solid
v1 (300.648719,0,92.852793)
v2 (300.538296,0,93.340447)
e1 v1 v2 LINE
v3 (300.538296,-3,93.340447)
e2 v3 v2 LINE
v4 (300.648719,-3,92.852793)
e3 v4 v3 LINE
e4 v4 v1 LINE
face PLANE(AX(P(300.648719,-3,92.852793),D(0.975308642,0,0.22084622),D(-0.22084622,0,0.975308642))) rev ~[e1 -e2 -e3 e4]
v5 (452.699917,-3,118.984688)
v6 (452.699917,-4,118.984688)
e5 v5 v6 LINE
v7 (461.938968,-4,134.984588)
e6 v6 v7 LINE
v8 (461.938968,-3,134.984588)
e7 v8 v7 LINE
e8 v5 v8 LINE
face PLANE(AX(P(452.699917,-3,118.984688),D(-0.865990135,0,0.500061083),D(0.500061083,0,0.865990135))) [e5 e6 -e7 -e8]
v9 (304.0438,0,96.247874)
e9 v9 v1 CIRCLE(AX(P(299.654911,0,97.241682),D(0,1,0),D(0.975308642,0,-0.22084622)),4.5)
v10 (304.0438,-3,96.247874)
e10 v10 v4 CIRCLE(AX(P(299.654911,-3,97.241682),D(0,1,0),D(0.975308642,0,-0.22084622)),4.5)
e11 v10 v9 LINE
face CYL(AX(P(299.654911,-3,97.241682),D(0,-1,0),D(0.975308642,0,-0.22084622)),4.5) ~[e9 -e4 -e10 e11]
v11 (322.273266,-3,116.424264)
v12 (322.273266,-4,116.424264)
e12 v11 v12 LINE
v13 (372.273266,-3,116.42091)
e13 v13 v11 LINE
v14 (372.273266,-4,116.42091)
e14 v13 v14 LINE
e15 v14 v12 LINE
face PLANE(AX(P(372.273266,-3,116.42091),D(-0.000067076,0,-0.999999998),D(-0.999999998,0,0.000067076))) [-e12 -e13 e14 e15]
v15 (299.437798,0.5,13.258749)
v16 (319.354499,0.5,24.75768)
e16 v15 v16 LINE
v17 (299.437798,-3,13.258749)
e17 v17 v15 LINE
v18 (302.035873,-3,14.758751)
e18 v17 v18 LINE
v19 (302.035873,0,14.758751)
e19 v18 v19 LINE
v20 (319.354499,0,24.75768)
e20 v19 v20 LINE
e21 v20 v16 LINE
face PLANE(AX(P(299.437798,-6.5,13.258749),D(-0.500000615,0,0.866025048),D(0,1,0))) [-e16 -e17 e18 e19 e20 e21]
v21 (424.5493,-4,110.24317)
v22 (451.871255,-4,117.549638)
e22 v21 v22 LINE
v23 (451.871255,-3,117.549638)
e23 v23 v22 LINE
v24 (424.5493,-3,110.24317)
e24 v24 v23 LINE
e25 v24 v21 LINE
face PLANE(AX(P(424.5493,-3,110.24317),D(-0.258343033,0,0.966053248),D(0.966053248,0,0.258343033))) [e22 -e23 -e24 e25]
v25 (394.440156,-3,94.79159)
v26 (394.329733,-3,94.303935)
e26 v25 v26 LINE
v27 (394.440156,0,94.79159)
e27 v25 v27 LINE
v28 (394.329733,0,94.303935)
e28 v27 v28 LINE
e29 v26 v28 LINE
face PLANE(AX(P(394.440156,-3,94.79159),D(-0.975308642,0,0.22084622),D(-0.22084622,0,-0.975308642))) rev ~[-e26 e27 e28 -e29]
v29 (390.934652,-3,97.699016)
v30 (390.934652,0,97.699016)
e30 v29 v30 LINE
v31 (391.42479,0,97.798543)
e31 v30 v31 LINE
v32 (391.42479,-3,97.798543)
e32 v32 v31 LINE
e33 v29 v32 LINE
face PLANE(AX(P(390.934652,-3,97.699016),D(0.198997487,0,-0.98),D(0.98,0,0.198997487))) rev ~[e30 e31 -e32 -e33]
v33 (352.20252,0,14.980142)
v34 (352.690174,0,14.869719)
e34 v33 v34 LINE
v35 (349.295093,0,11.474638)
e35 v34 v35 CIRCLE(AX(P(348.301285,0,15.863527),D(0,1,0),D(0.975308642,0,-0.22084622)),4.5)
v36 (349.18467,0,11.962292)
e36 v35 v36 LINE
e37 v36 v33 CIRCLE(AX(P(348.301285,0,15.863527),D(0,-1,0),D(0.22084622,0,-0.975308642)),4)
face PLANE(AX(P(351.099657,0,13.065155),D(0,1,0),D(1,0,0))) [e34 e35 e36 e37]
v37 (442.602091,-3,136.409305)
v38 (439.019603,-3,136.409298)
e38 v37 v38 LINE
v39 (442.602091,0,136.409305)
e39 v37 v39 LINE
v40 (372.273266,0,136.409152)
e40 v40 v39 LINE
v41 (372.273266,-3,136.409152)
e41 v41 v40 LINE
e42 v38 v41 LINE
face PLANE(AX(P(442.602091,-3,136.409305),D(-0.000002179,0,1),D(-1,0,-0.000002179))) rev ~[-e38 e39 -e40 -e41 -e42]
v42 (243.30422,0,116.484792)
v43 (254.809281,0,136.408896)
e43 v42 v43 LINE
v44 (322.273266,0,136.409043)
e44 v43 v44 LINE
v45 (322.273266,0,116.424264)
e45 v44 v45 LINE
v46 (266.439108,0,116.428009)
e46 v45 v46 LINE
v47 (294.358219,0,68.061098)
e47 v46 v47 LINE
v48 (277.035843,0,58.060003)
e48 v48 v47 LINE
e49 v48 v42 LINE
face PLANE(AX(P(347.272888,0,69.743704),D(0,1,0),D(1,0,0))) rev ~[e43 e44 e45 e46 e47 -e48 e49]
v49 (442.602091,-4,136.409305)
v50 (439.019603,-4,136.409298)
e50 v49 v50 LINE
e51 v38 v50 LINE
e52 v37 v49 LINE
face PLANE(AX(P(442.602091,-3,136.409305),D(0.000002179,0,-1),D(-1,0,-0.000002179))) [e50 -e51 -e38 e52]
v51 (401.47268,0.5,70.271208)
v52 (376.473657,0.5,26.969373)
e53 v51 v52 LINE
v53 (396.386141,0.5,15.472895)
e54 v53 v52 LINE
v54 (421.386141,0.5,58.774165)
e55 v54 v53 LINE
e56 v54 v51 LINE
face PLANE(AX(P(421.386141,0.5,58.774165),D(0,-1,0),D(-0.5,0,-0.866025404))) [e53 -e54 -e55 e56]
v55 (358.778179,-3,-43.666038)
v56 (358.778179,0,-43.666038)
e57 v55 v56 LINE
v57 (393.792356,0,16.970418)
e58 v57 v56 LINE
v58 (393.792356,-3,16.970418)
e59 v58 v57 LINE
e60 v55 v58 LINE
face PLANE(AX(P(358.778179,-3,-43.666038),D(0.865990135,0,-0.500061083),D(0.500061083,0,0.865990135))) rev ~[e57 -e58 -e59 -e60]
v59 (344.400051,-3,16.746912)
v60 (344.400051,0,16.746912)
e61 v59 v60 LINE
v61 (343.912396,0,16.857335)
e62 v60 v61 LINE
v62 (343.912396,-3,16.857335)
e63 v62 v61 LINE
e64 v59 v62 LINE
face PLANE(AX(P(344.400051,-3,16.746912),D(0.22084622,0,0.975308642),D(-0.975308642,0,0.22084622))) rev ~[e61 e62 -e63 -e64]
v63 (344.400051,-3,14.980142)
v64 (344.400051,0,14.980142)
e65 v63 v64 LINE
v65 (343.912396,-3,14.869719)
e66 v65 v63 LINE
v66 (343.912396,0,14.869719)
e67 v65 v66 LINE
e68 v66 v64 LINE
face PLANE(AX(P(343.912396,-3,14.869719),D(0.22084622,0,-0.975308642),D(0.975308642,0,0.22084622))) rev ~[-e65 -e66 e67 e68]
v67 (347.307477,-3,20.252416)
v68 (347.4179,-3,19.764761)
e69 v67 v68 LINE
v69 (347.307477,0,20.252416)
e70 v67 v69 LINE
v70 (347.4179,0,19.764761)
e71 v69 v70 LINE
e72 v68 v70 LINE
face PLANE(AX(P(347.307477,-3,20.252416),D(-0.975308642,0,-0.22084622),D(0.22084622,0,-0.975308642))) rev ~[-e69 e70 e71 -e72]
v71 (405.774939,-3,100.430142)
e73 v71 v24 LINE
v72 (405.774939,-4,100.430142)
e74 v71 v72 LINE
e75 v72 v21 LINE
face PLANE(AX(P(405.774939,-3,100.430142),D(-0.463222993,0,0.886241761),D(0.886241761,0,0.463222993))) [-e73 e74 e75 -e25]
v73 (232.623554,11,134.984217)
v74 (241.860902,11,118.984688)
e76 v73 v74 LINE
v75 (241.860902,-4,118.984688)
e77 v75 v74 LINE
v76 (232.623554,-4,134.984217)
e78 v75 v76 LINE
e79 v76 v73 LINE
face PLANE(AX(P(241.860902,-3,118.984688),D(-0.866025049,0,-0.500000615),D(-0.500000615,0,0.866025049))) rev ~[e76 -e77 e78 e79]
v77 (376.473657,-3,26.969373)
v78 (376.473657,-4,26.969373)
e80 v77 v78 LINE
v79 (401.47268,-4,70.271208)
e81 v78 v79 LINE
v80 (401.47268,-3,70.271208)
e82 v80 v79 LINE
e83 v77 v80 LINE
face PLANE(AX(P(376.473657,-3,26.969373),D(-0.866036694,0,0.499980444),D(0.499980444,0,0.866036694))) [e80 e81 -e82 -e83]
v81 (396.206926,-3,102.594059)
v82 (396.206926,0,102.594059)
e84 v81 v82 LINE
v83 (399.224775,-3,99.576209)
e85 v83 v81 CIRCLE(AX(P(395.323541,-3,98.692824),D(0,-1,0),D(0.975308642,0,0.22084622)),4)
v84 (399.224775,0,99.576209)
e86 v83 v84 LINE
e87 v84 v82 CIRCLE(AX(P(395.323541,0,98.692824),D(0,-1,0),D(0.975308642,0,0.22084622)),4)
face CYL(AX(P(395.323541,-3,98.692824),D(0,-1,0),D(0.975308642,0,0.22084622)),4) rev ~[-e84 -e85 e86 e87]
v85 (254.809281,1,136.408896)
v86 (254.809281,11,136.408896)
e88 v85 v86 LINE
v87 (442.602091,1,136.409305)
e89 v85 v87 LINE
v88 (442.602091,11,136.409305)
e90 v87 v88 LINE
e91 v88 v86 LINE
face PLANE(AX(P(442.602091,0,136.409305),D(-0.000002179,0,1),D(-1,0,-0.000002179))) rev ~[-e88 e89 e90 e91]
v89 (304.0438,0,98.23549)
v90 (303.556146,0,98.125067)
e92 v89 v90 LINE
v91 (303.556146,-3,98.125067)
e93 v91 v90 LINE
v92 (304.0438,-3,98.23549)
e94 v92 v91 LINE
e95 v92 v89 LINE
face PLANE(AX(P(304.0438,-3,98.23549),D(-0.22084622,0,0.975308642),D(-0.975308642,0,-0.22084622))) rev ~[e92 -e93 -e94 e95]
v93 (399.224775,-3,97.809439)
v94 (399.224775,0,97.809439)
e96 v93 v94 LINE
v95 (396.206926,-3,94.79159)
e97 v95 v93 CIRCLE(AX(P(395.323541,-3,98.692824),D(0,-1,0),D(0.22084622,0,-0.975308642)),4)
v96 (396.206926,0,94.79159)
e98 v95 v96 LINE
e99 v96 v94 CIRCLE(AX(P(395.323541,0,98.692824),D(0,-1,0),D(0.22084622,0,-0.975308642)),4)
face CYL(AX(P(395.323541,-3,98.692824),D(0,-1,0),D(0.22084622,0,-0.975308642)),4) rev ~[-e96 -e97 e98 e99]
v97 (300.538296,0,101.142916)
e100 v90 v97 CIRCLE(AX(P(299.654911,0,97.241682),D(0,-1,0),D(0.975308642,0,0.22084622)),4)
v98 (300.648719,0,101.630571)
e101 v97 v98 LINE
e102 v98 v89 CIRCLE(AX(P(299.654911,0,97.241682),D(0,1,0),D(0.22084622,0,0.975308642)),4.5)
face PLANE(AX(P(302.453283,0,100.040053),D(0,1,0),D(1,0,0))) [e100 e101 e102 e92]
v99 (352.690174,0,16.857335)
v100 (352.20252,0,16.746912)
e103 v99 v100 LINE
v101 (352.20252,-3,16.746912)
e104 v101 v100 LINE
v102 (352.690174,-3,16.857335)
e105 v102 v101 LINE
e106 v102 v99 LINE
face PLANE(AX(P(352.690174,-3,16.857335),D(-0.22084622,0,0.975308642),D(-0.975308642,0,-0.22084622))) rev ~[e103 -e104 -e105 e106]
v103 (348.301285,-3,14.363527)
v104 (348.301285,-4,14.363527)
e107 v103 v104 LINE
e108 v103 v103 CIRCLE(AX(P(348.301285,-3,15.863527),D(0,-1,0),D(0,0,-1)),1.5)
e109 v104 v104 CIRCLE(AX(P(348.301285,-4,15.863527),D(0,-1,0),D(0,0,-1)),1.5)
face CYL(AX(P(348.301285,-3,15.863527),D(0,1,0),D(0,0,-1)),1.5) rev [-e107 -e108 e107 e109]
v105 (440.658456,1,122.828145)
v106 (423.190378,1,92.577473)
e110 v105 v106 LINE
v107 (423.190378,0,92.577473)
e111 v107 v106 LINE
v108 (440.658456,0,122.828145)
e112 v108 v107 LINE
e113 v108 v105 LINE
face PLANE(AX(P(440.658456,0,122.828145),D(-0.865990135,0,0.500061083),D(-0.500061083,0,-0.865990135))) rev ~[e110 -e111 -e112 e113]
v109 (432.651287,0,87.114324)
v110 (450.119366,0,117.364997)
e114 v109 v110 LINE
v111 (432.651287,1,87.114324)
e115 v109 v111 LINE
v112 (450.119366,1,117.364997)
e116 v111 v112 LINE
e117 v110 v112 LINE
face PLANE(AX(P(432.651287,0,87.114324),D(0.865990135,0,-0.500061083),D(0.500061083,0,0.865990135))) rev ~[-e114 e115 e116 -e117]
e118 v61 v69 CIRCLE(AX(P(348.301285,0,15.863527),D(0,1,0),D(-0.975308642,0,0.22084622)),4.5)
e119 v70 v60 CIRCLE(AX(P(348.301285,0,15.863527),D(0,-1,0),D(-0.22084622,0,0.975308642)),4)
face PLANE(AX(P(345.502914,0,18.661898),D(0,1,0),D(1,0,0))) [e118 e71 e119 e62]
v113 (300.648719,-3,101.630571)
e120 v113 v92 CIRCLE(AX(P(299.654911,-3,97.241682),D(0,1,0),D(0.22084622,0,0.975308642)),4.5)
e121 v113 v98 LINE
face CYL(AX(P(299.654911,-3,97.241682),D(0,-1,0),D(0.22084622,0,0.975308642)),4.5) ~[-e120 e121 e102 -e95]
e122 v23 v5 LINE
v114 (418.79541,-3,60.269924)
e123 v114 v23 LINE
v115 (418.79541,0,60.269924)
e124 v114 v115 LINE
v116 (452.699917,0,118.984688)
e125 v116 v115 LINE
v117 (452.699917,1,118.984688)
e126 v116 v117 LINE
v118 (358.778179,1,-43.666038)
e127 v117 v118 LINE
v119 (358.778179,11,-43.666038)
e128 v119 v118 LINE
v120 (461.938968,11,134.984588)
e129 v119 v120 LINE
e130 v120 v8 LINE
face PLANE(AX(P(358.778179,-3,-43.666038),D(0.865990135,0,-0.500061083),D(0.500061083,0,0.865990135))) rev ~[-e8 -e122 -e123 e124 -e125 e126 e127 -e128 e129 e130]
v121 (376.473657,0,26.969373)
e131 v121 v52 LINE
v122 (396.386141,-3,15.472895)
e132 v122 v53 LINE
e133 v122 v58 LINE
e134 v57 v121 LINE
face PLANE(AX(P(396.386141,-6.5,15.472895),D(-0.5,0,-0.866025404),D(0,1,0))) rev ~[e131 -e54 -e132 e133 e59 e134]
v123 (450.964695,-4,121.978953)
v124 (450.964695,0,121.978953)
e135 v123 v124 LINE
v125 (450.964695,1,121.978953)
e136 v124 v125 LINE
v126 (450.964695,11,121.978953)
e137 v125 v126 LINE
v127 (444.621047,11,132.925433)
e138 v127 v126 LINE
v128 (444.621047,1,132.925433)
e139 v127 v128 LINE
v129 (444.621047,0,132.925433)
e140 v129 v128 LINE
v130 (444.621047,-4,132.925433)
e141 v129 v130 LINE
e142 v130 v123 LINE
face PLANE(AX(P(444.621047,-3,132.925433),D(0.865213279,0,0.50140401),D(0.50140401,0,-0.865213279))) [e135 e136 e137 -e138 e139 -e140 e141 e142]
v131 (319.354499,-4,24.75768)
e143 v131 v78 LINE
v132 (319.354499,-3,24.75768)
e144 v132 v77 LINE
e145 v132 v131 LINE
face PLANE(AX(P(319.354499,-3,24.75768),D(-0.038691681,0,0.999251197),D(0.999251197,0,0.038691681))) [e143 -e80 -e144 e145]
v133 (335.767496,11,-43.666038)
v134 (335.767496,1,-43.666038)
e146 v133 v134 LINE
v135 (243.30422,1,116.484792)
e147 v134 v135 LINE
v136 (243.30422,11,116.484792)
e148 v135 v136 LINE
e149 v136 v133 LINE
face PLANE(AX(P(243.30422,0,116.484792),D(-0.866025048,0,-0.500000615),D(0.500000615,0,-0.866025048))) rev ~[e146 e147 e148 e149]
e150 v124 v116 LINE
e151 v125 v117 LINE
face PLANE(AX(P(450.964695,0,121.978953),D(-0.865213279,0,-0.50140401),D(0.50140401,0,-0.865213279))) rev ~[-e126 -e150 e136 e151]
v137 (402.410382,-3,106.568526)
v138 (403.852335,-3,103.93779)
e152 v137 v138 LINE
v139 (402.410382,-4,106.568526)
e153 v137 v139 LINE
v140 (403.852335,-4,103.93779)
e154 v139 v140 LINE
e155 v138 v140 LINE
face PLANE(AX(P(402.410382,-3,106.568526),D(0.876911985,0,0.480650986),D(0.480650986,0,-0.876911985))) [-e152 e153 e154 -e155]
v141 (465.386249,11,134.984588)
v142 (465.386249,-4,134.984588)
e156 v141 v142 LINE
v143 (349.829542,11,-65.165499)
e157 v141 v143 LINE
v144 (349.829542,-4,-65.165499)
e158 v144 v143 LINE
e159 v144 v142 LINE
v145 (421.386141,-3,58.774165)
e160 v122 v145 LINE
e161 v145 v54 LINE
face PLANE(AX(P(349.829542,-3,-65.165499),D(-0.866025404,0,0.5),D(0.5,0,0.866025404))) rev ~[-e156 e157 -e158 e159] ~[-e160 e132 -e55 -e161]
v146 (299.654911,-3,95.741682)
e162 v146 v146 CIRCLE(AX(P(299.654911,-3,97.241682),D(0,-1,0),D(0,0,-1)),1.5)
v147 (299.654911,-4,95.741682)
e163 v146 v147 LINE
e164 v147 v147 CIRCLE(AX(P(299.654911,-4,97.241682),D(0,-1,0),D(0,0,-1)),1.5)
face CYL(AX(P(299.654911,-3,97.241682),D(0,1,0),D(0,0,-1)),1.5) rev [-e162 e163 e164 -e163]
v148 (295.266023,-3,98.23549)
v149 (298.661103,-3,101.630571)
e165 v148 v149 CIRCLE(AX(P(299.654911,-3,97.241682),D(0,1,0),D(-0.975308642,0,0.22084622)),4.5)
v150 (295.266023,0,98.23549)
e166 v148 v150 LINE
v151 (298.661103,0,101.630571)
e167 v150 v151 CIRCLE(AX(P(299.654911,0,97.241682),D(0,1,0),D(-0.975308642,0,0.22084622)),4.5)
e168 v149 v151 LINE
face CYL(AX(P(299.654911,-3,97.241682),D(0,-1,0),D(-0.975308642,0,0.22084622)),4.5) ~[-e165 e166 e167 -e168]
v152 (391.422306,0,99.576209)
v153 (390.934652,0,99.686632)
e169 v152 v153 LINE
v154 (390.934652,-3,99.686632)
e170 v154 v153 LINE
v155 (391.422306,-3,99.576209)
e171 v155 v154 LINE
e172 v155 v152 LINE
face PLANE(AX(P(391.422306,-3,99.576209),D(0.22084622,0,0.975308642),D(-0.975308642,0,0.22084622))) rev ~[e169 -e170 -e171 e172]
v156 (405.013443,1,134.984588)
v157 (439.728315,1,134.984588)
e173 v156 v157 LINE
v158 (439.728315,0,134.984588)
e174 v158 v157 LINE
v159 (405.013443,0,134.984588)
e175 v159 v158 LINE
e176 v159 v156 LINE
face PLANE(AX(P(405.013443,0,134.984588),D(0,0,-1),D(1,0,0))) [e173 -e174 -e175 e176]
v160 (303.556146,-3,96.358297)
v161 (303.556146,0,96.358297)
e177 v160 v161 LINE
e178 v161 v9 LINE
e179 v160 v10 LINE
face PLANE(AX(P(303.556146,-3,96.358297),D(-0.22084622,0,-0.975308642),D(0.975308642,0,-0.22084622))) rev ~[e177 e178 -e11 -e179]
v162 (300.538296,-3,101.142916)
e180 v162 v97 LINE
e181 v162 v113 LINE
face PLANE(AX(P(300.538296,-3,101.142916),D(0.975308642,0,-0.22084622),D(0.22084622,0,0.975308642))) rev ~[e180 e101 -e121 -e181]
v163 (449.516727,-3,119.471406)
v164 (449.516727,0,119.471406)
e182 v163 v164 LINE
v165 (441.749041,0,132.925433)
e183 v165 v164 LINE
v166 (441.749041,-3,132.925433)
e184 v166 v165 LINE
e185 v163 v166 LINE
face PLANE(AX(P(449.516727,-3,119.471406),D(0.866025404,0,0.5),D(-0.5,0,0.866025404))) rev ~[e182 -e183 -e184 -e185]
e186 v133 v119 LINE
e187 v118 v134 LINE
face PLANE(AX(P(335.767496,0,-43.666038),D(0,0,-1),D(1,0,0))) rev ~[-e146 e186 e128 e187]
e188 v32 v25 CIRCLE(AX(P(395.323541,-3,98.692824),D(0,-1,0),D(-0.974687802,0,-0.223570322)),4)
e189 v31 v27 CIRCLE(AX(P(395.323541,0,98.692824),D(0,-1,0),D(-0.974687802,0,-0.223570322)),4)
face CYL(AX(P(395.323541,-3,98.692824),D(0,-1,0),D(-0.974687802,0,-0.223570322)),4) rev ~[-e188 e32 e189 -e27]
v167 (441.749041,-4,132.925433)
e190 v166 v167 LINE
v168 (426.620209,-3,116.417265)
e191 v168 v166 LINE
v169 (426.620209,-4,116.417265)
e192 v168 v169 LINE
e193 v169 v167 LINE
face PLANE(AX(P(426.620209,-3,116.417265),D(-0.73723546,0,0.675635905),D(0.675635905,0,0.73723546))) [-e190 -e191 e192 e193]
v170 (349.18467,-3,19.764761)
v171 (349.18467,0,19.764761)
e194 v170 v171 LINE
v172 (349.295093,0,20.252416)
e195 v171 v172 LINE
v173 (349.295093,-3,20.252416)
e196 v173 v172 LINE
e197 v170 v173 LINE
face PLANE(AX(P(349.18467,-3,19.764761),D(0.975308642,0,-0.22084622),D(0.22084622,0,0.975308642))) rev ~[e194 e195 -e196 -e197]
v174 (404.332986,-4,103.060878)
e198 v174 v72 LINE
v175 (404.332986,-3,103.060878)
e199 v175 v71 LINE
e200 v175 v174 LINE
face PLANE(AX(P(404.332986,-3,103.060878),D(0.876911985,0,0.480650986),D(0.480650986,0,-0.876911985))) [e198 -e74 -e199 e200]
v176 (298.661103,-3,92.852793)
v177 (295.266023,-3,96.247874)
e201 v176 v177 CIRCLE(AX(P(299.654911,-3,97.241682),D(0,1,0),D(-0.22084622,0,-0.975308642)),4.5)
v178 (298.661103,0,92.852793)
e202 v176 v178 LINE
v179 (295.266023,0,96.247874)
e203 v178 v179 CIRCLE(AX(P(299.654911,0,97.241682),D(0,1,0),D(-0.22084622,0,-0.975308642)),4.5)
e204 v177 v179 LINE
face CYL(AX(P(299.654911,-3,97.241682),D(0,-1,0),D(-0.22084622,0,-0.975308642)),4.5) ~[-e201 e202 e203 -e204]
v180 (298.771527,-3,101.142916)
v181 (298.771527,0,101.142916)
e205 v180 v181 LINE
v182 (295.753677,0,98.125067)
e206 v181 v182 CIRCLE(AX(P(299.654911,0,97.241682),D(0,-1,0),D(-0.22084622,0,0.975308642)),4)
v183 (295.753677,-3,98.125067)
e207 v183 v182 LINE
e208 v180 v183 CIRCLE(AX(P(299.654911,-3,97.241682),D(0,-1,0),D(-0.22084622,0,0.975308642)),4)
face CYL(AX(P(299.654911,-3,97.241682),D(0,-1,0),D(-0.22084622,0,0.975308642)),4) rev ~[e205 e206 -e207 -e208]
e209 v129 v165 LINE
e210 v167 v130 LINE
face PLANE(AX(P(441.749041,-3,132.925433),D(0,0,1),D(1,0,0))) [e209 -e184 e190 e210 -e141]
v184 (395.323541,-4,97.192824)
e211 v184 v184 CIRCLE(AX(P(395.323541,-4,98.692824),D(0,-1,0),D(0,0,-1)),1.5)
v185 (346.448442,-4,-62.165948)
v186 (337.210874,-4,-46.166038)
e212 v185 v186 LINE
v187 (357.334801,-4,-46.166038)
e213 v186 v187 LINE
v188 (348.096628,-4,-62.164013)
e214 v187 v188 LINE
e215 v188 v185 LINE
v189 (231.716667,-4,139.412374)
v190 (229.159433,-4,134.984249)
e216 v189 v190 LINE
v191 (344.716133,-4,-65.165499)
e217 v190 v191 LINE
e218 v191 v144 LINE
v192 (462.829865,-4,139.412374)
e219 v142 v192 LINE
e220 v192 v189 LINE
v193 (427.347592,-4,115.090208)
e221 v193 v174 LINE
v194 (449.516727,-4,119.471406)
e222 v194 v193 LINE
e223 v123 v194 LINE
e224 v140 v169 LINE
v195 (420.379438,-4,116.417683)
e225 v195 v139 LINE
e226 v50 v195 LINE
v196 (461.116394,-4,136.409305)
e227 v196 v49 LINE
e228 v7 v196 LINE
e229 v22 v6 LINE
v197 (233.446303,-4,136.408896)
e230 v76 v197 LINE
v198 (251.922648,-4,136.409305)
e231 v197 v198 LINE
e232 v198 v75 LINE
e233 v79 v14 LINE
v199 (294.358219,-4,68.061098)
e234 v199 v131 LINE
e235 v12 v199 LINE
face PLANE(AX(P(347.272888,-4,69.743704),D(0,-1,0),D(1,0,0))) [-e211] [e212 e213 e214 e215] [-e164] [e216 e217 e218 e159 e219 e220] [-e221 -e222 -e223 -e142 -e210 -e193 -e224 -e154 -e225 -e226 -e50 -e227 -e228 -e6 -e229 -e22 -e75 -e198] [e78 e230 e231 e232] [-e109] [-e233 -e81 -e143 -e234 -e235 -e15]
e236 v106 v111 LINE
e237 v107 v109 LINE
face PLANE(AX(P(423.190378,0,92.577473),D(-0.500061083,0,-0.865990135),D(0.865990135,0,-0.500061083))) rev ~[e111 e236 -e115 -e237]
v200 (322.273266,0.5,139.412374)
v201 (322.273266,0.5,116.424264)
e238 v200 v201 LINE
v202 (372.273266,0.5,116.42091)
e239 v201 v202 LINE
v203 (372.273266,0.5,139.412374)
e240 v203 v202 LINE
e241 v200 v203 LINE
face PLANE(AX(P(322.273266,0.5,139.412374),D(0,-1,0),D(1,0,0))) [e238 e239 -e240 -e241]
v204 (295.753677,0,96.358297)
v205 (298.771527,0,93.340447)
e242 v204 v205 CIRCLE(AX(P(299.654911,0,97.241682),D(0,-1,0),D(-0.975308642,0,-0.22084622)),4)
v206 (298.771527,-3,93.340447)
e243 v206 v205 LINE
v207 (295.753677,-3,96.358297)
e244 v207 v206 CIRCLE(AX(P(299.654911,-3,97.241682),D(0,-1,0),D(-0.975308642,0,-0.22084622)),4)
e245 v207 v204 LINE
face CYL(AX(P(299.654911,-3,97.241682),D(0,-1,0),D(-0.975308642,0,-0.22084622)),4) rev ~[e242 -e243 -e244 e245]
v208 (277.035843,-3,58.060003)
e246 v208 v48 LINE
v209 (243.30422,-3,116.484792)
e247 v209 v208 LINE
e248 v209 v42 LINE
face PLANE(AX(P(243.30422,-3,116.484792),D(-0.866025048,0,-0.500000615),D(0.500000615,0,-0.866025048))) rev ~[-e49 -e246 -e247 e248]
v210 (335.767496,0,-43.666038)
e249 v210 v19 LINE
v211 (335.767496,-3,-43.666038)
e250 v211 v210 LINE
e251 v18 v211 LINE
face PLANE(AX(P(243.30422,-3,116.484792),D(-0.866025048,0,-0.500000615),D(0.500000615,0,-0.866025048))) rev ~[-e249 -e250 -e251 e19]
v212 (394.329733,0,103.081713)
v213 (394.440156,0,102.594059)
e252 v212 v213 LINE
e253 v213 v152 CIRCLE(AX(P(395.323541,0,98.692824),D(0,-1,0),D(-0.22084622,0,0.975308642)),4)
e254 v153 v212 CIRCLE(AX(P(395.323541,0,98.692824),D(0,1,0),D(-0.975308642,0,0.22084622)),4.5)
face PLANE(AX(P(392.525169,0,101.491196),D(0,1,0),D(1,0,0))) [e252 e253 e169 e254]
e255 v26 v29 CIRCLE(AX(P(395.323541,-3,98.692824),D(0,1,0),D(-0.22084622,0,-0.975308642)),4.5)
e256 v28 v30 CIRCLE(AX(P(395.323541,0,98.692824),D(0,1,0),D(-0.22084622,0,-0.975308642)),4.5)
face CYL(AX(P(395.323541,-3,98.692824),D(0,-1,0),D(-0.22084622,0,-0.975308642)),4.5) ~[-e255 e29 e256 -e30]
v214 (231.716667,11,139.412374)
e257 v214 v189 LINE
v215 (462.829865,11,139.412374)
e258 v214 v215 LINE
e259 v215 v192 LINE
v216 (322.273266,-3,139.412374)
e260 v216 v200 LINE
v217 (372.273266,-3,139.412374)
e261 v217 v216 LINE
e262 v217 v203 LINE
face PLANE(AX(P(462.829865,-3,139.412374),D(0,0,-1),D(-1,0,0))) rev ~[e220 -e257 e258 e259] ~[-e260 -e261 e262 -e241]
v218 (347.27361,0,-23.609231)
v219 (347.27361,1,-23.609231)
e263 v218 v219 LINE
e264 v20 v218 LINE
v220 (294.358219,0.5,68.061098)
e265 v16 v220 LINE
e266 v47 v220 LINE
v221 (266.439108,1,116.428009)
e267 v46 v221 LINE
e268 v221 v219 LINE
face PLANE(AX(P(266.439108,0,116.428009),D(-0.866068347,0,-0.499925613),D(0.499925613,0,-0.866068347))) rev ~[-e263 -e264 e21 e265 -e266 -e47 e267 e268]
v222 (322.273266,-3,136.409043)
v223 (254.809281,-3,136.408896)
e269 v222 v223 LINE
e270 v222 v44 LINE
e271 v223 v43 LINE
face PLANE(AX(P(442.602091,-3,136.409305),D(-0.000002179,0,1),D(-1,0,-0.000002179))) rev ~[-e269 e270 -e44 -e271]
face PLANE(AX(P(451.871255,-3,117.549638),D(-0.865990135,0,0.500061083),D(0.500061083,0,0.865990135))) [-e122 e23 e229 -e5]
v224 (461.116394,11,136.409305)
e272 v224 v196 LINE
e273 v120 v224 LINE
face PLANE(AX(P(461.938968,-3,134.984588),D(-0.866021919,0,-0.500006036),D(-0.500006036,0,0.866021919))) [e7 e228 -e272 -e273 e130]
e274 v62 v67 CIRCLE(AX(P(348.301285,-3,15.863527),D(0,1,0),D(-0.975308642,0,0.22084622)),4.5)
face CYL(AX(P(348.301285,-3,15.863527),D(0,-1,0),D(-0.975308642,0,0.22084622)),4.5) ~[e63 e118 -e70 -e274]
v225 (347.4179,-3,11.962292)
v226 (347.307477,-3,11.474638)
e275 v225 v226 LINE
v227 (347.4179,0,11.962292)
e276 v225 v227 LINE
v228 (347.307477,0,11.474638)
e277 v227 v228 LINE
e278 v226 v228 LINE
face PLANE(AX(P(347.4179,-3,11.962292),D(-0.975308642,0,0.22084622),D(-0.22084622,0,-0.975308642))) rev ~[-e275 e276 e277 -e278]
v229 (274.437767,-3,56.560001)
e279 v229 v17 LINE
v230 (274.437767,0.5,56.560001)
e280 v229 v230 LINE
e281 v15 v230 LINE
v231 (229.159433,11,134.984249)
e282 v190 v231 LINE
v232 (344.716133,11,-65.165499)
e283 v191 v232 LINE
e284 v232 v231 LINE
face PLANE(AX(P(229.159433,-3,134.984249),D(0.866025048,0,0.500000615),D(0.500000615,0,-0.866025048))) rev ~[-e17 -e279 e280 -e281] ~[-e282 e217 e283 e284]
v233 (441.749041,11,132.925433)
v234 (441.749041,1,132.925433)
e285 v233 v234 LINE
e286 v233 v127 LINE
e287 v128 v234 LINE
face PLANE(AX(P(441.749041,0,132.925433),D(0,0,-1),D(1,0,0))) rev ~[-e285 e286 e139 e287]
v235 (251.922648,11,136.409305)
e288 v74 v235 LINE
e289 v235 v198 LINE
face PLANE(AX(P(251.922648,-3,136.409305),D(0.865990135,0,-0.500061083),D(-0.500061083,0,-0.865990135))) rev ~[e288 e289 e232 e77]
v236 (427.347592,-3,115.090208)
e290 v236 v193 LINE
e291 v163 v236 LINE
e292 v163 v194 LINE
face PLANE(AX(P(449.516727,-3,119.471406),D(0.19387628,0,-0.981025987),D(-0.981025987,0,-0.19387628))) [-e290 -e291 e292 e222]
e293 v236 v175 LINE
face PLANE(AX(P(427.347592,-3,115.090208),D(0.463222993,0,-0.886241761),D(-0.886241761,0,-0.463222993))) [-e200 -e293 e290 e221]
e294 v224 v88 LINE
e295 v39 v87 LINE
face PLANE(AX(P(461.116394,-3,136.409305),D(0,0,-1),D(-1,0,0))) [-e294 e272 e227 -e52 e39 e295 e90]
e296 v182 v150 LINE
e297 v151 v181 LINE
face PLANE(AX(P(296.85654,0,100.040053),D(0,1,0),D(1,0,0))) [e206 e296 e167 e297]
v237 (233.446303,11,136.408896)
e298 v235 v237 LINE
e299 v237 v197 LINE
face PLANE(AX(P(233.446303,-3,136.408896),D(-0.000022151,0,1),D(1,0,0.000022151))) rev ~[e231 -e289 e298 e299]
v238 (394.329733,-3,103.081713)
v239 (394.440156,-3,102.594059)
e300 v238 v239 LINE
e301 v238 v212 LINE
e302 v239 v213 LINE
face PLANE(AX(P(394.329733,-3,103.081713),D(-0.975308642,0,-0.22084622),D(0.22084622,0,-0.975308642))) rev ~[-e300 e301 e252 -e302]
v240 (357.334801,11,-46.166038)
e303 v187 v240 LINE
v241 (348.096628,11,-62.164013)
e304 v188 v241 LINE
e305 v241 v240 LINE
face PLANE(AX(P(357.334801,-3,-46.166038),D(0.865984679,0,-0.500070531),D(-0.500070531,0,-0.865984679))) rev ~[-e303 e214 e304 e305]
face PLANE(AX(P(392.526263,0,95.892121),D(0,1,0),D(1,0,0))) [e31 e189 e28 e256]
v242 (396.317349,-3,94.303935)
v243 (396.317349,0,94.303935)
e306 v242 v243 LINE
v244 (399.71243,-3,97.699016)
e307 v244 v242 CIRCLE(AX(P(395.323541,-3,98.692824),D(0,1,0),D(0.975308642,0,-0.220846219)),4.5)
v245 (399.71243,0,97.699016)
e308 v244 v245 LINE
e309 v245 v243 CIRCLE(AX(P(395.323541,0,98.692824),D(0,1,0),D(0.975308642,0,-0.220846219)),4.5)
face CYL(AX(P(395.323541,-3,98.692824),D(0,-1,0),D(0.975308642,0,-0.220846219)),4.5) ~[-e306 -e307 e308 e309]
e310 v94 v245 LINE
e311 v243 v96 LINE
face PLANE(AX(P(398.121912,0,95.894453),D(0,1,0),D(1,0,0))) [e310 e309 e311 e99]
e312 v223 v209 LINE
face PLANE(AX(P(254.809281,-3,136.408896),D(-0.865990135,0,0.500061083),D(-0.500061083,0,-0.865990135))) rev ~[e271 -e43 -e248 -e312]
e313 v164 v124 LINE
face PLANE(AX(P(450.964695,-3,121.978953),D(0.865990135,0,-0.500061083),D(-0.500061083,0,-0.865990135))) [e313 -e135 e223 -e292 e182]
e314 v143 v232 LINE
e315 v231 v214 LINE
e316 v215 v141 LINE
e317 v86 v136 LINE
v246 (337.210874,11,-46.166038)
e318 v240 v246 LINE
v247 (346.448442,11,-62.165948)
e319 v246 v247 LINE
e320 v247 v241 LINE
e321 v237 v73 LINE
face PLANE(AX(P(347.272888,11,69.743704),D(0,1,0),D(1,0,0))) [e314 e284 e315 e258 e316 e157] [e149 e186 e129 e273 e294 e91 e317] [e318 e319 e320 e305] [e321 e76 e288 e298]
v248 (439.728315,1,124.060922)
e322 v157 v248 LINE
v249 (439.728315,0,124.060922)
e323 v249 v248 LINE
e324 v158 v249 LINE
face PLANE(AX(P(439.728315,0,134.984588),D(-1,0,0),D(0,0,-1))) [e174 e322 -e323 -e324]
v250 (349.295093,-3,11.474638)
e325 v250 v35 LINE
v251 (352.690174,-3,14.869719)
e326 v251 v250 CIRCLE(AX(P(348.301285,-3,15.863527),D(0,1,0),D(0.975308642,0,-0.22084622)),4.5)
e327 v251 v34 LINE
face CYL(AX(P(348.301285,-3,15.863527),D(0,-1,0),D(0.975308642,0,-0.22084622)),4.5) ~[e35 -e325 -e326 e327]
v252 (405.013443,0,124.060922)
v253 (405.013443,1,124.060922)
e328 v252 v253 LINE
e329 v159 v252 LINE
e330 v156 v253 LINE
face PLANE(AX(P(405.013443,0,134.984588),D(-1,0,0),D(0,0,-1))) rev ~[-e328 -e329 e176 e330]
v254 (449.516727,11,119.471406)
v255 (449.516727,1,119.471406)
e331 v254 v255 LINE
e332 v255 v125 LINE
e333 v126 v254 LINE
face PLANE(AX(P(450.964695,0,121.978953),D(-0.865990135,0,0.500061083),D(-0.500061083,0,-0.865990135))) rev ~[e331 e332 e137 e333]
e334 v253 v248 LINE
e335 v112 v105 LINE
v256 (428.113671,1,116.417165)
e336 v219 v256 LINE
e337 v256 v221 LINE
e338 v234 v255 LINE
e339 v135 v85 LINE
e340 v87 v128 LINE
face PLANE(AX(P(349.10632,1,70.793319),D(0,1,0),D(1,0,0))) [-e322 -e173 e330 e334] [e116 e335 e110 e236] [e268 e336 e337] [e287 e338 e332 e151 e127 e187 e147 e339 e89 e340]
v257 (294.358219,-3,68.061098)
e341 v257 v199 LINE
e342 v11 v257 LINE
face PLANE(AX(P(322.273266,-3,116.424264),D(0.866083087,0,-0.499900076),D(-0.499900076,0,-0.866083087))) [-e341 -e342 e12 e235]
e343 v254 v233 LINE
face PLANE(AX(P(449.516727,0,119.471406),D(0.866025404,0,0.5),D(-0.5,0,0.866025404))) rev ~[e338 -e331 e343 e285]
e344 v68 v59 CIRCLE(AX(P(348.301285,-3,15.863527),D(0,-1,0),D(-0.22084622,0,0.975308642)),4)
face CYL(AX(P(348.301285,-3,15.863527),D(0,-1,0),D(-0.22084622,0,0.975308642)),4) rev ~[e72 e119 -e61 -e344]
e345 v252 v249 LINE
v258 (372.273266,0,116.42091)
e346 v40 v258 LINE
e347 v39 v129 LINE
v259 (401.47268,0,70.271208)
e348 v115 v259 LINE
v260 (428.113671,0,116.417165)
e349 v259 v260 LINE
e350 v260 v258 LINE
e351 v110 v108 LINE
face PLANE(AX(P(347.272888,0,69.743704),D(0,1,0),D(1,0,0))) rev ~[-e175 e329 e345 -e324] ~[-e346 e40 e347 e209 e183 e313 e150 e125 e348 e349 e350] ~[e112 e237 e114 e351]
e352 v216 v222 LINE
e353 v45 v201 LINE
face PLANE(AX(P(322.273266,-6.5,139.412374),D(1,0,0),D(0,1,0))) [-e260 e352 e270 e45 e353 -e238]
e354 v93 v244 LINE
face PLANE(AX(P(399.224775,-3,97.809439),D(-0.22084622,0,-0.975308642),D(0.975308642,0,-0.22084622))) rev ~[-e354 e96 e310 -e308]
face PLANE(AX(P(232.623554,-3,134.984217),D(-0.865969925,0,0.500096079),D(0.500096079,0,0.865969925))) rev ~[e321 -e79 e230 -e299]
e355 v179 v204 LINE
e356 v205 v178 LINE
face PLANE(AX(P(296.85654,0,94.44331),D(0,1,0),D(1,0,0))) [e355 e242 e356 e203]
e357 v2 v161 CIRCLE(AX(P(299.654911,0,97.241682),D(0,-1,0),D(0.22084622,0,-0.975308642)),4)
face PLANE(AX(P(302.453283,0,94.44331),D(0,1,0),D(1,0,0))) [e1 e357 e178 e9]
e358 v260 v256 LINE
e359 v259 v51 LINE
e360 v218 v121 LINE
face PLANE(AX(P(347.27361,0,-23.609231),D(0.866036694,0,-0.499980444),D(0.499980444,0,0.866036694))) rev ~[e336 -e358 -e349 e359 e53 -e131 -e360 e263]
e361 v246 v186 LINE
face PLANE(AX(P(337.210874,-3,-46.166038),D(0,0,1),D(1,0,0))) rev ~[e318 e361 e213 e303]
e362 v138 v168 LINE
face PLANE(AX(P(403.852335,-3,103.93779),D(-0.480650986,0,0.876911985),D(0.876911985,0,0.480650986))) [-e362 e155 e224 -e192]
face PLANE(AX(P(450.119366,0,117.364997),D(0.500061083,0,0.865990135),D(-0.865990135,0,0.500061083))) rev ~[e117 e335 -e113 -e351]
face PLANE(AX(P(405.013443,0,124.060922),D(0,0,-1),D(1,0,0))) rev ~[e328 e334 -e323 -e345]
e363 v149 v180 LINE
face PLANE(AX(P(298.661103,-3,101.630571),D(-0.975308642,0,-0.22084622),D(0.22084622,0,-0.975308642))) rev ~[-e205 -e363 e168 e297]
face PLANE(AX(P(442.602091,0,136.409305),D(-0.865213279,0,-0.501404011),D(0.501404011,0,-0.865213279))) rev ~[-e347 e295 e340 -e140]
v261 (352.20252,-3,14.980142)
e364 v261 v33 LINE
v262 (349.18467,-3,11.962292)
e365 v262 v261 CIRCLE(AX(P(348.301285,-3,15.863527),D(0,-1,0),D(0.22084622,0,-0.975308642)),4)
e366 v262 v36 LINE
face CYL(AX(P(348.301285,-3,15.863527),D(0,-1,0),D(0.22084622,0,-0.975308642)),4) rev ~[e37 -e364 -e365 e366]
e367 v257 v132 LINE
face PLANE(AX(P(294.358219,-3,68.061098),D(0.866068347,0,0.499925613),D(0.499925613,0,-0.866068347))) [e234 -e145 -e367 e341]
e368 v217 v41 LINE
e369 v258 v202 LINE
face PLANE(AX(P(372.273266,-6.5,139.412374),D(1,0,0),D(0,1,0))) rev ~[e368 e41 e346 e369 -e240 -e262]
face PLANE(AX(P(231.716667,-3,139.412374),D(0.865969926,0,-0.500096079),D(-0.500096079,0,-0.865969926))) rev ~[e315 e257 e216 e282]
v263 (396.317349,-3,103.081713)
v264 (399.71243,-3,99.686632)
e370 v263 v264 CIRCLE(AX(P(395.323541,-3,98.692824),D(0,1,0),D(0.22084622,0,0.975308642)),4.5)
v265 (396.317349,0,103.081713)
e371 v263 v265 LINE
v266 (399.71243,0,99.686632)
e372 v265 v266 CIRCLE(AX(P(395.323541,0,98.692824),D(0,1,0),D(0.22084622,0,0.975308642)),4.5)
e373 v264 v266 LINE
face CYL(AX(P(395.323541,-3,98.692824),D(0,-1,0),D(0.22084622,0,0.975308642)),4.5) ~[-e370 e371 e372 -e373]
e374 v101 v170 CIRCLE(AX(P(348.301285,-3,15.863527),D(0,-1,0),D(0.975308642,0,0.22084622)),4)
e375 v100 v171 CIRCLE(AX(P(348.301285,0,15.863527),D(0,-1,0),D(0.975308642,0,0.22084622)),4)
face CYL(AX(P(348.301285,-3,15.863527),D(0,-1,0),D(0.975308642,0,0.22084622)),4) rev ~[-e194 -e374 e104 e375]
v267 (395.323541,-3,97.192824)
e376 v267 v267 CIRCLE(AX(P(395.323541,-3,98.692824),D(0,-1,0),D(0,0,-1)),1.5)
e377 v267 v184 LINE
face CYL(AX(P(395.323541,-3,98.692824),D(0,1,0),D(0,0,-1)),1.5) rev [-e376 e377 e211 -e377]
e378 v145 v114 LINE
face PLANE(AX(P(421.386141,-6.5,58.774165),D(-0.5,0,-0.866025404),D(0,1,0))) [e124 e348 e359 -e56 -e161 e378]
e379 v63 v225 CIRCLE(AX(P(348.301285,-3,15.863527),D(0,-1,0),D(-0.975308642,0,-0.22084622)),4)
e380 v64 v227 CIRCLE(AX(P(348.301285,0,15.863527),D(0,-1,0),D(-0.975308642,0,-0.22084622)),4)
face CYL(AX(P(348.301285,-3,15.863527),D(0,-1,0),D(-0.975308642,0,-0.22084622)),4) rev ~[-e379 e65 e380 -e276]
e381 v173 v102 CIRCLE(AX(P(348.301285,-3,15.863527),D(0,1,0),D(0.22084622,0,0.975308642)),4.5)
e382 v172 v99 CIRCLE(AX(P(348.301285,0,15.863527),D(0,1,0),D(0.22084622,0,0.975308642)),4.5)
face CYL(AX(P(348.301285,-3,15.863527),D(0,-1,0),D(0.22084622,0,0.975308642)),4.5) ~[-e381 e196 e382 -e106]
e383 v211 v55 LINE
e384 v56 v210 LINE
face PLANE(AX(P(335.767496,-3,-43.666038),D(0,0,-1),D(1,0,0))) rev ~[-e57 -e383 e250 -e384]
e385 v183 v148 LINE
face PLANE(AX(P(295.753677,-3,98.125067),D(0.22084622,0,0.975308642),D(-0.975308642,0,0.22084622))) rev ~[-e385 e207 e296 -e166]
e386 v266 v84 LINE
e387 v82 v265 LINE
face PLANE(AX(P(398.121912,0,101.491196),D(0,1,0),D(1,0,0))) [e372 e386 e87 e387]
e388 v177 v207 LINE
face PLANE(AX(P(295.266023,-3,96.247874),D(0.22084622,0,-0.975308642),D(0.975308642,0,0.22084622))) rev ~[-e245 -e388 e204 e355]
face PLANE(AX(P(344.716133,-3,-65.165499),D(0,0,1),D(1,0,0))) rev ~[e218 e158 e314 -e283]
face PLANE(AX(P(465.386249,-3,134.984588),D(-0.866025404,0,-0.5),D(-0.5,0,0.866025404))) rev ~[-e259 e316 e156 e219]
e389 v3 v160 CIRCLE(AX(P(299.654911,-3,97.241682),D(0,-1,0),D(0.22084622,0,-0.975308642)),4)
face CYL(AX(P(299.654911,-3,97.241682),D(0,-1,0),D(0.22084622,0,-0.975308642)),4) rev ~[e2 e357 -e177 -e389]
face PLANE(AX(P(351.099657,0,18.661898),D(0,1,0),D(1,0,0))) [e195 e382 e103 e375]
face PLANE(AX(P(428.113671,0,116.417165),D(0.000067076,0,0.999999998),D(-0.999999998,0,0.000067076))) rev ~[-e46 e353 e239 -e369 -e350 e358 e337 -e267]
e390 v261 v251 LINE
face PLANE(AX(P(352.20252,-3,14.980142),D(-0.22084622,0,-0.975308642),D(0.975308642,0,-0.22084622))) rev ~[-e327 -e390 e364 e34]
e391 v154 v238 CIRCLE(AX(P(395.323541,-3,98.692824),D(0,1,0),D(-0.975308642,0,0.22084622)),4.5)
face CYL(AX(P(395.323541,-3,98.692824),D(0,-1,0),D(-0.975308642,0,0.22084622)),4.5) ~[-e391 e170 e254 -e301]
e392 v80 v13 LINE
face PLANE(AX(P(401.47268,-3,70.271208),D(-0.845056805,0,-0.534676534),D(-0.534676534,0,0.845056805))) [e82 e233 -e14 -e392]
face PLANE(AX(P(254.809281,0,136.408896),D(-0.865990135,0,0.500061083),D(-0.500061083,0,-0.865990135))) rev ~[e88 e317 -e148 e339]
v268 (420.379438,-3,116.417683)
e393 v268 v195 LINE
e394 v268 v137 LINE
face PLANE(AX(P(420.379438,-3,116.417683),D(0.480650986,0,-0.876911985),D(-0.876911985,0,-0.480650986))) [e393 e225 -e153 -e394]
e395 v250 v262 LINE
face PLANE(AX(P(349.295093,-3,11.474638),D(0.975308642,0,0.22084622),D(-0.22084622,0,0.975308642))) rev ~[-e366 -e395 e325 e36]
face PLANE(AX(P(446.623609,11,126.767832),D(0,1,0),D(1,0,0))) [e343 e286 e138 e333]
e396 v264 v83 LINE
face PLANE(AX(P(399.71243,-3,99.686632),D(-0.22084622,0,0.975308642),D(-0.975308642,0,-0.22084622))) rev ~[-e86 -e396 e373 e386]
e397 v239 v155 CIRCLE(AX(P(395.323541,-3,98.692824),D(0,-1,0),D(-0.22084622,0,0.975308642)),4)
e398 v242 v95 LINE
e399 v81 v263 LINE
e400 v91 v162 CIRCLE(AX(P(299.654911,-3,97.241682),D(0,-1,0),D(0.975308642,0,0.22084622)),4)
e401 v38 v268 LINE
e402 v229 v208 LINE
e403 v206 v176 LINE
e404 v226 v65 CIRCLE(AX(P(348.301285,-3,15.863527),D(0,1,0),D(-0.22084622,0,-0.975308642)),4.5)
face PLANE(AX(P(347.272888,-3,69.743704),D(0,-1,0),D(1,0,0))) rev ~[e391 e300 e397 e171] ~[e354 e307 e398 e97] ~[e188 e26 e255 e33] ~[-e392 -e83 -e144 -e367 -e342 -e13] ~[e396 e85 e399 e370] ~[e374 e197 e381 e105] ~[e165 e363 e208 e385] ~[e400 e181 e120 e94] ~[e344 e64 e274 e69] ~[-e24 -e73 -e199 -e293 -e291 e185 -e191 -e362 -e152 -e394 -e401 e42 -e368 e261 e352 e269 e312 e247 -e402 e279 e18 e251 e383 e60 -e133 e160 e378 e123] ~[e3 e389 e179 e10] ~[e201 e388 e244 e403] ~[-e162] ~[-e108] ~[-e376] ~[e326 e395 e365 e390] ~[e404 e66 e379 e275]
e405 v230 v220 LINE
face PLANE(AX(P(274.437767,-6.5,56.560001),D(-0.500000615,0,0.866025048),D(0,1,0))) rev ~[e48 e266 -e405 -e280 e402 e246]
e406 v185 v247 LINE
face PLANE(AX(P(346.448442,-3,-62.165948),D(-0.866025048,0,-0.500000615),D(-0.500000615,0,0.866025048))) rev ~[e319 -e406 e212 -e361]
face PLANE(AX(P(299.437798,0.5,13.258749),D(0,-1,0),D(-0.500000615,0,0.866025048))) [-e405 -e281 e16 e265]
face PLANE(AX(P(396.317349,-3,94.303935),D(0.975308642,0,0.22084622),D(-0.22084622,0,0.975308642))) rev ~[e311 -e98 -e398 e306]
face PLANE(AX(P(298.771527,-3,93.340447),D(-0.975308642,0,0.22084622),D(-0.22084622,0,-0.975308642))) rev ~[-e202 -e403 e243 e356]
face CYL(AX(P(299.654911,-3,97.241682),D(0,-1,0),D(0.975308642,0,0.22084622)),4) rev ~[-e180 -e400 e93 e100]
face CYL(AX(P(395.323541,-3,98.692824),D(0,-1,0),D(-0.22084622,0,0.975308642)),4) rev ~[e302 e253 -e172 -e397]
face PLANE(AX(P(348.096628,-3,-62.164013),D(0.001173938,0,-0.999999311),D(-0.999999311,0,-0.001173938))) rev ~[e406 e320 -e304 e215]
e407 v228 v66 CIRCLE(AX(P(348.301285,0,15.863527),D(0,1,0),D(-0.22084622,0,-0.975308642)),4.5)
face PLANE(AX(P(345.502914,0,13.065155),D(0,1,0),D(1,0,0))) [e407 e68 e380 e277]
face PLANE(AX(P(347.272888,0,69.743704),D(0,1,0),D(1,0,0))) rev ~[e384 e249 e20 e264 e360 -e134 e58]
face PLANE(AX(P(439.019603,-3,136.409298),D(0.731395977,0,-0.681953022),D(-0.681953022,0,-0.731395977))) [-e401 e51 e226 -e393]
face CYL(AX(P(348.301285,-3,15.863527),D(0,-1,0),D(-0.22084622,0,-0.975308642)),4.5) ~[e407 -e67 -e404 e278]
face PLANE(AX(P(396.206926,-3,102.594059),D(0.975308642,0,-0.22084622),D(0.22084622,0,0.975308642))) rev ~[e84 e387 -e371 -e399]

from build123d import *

# Parameters (mm, degrees)
SKETCH1_W                = 34.714871787
SKETCH1_H                = 10.923666426
BOSS_EXTRUDE1_DEPTH      = 1
BOSS_EXTRUDE2_DEPTH      = 11
BOSS_EXTRUDE3_DEPTH      = 5
BOSS_EXTRUDE3_DEPTH_BACK = 3
SKETCH3_W                = 50
SKETCH3_H                = 7
CUT_EXTRUDE3_DEPTH       = 25
SKETCH5_W                = 50
SKETCH5_H                = 7
CUT_EXTRUDE4_DEPTH       = 25
SKETCH6_W                = 50
SKETCH6_H                = 7
CUT_EXTRUDE5_DEPTH       = 25
SKETCH8_R                = 1.5
BOSS_EXTRUDE5_DEPTH      = 1
BOSS_EXTRUDE10_DEPTH     = 3


with BuildPart() as part:
    # Sketch1 → Boss-Extrude1 (new body)
    with BuildSketch(Plane(origin=(0, 0, 0), x_dir=(1, 0, 0), z_dir=(0, 1, 0))):
        Polygon((243.304219775, -116.484791865), (254.809280577, -136.408896137), (442.602090749, -136.409305398), (444.621046679, -132.925433224), (441.749040748, -132.925433224), (449.516726724, -119.471406458), (450.964695298, -121.978953123), (452.699916622, -118.984688018), (358.778179036, 43.666038065), (335.767496284, 43.666038065), align=None)
        with Locations((422.370878913, -129.522754792)):
            Rectangle(SKETCH1_W, SKETCH1_H, mode=Mode.SUBTRACT)
        Polygon((423.190377512, -92.577472767), (432.651287025, -87.114324326), (450.119365975, -117.364996826), (440.658456462, -122.828145267), align=None, mode=Mode.SUBTRACT)
        Polygon((428.113670919, -116.417164681), (266.439108268, -116.428009237), (347.273609729, 23.609230821), align=None, mode=Mode.SUBTRACT)
    extrude(amount=BOSS_EXTRUDE1_DEPTH)

    # Sketch1<9> → Boss-Extrude2 (add)
    # profile 1 of 2: a face of its own
    with BuildSketch(Plane(origin=(0, 0, 0), x_dir=(1, 0, 0), z_dir=(0, 1, 0))):
        Polygon((229.159432548, -134.984249184), (231.716666588, -139.412373829), (462.829865412, -139.412373829), (465.38624875, -134.984588004), (349.829542096, 65.165499075), (344.716133219, 65.165499075), align=None)
        Polygon((251.922647989, -136.409305399), (233.446303401, -136.408896138), (232.62355396, -134.984217357), (241.860901689, -118.984688018), align=None, mode=Mode.SUBTRACT)
        Polygon((442.602090749, -136.409305398), (254.809280577, -136.408896137), (243.304219775, -116.484791865), (335.767496284, 43.666038065), (358.778179036, 43.666038065), (461.938967958, -134.984588006), (461.116393749, -136.409305398), align=None, mode=Mode.SUBTRACT)
        Polygon((348.096628302, 62.164013367), (357.334800991, 46.166038067), (337.210874326, 46.166038067), (346.44844193, 62.165948237), align=None, mode=Mode.SUBTRACT)
    # profile 2 of 2: a face of its own
    with BuildSketch(Plane(origin=(0, 0, 0), x_dir=(1, 0, 0), z_dir=(0, 1, 0))):
        Polygon((441.749040748, -132.925433224), (444.621046679, -132.925433224), (450.964695298, -121.978953123), (449.516726724, -119.471406458), align=None)
    extrude(amount=BOSS_EXTRUDE2_DEPTH)

    # Sketch1<10> → Boss-Extrude3 (add, two sides: drawn at the far end of the back side and taken through both)
    # profile 1 of 2: a face of its own
    with BuildSketch(Plane(origin=(0, 0, 0), x_dir=(1, 0, 0), z_dir=(0, 1, 0)).offset(-BOSS_EXTRUDE3_DEPTH_BACK)):
        Polygon((229.159432548, -134.984249184), (231.716666588, -139.412373829), (462.829865412, -139.412373829), (465.38624875, -134.984588004), (349.829542096, 65.165499075), (344.716133219, 65.165499075), align=None)
        Polygon((251.922647989, -136.409305399), (233.446303401, -136.408896138), (232.62355396, -134.984217357), (241.860901689, -118.984688018), align=None, mode=Mode.SUBTRACT)
        Polygon((442.602090749, -136.409305398), (254.809280577, -136.408896137), (243.304219775, -116.484791865), (335.767496284, 43.666038065), (358.778179036, 43.666038065), (461.938967958, -134.984588006), (461.116393749, -136.409305398), align=None, mode=Mode.SUBTRACT)
        Polygon((348.096628302, 62.164013367), (357.334800991, 46.166038067), (337.210874326, 46.166038067), (346.44844193, 62.165948237), align=None, mode=Mode.SUBTRACT)
    # profile 2 of 2: a face of its own
    with BuildSketch(Plane(origin=(0, 0, 0), x_dir=(1, 0, 0), z_dir=(0, 1, 0)).offset(-BOSS_EXTRUDE3_DEPTH_BACK)):
        Polygon((441.749040748, -132.925433224), (444.621046679, -132.925433224), (450.964695298, -121.978953123), (449.516726724, -119.471406458), align=None)
    extrude(amount=BOSS_EXTRUDE3_DEPTH + BOSS_EXTRUDE3_DEPTH_BACK)

    # Sketch3 → Cut-Extrude3 (cut)
    with BuildSketch(Plane(origin=(290.589645397, 0, -167.772009994), x_dir=(-0.49999999999998745, 0, -0.8660254037844459), z_dir=(0.8660254037844459, 0, -0.49999999999998745))):
        with Locations((-236.592990632, -3)):
            Rectangle(SKETCH3_W, SKETCH3_H)
    extrude(amount=-CUT_EXTRUDE3_DEPTH, mode=Mode.SUBTRACT)

    # Sketch5 → Cut-Extrude4 (cut)
    with BuildSketch(Plane.XY.offset(139.412373829)):
        with Locations((347.273266, -3)):
            Rectangle(SKETCH5_W, SKETCH5_H)
    extrude(amount=-CUT_EXTRUDE4_DEPTH, mode=Mode.SUBTRACT)

    # Sketch6 → Cut-Extrude5 (cut)
    with BuildSketch(Plane(origin=(230.319375798, 0, 132.975171837), x_dir=(-0.5000006154012504, 0, 0.8660250484820695), z_dir=(-0.8660250484820695, 0, -0.5000006154012504))):
        with Locations((-113.236674799, -3)):
            Rectangle(SKETCH6_W, SKETCH6_H)
    extrude(amount=-CUT_EXTRUDE5_DEPTH, mode=Mode.SUBTRACT)

    # Sketch8 → Boss-Extrude5 (add)
    with BuildSketch(Plane.XZ.offset(3)):
        Polygon((349.829542096, -65.165499075), (465.38624875, 134.984588004), (462.829865412, 139.412373829), (231.716666588, 139.412373829), (229.159432548, 134.984249184), (344.716133219, -65.165499075), align=None)
        with Locations(Location((395.323540807, 98.692824234, 0), (0, 0, 270))):
            Circle(SKETCH8_R, mode=Mode.SUBTRACT)
        with Locations(Location((348.301285091, 15.863526629, 0), (0, 0, 270))):
            Circle(SKETCH8_R, mode=Mode.SUBTRACT)
        with Locations(Location((299.654911442, 97.24168178, 0), (0, 0, 270))):
            Circle(SKETCH8_R, mode=Mode.SUBTRACT)
        Polygon((444.621046679, 132.925433224), (450.964695298, 121.978953123), (449.516726724, 119.471406458), (427.347592194, 115.090208207), (404.33298615, 103.060878104), (405.774939109, 100.430142149), (424.549299543, 110.243170393), (451.871255231, 117.549638152), (452.699916622, 118.984688018), (461.938967958, 134.984588006), (461.116393749, 136.409305398), (442.602090749, 136.409305398), (439.019602541, 136.409297591), (420.379437571, 116.417683466), (402.410382205, 106.568526044), (403.852335164, 103.937790089), (426.620208946, 116.417264857), (441.749040748, 132.925433224), align=None, mode=Mode.SUBTRACT)
        Polygon((322.273266, 116.42426408), (294.358218631, 68.061097964), (319.354499367, 24.757680453), (376.473657316, 26.969372806), (401.47267951, 70.271207531), (372.273266, 116.420910257), align=None, mode=Mode.SUBTRACT)
        Polygon((233.446303401, 136.408896138), (251.922647989, 136.409305399), (241.860901689, 118.984688018), (232.62355396, 134.984217357), align=None, mode=Mode.SUBTRACT)
        Polygon((337.210874326, -46.166038067), (357.334800991, -46.166038067), (348.096628302, -62.164013367), (346.44844193, -62.165948237), align=None, mode=Mode.SUBTRACT)
    extrude(amount=BOSS_EXTRUDE5_DEPTH)

    # Sketch12 → Boss-Extrude10 (add)
    with BuildSketch(Plane(origin=(0, -3, 0), x_dir=(1, 0, 0), z_dir=(0, 1, 0))):
        with BuildLine():
            Line((347.417900211, -11.962292061), (347.307477101, -11.47463774))
            ThreePointArc((347.307477101, -11.47463774), (345.119304576, -12.681546114), (343.912396202, -14.869718639))
            Line((343.912396203, -14.869718639), (344.400050524, -14.980141749))
            ThreePointArc((344.400050523, -14.980141749), (345.472857967, -13.035099504), (347.417900211, -11.962292061))
        make_face()
        with BuildLine():
            ThreePointArc((352.690173981, -14.869718639), (351.483265607, -12.681546114), (349.295093082, -11.47463774))
            Line((349.295093081, -11.47463774), (349.184669971, -11.962292061))
            ThreePointArc((349.184669972, -11.962292061), (351.129712216, -13.035099504), (352.20251966, -14.980141749))
            Line((352.202519659, -14.980141749), (352.69017398, -14.869718639))
        make_face()
        with BuildLine():
            ThreePointArc((349.295093082, -20.252415518), (351.483265607, -19.045507145), (352.690173981, -16.857334619))
            Line((352.69017398, -16.857334619), (352.202519659, -16.746911509))
            ThreePointArc((352.20251966, -16.746911509), (351.129712216, -18.691953754), (349.184669972, -19.764761197))
            Line((349.184669971, -19.764761197), (349.295093081, -20.252415518))
        make_face()
        with BuildLine():
            Line((344.400050524, -16.746911509), (343.912396203, -16.857334619))
            ThreePointArc((343.912396202, -16.857334619), (345.119304576, -19.045507145), (347.307477101, -20.252415518))
            Line((347.307477101, -20.252415518), (347.417900211, -19.764761197))
            ThreePointArc((347.417900211, -19.764761197), (345.472857967, -18.691953754), (344.400050523, -16.746911509))
        make_face()
        with BuildLine():
            Line((394.440155927, -94.791589666), (394.329732817, -94.303935345))
            ThreePointArc((394.329732817, -94.303935345), (392.141560292, -95.510843718), (390.934651918, -97.699016244))
            Line((390.934651918, -97.699016244), (391.4247896, -97.798542945))
            ThreePointArc((391.4247896, -97.798542945), (392.499067689, -95.860448622), (394.440155927, -94.791589666))
        make_face()
        with BuildLine():
            ThreePointArc((399.712429696, -97.699016244), (398.505521323, -95.510843718), (396.317348797, -94.303935345))
            Line((396.317348797, -94.303935345), (396.206925687, -94.791589666))
            ThreePointArc((396.206925687, -94.791589666), (398.151967932, -95.864397109), (399.224775375, -97.809439354))
            Line((399.224775375, -97.809439354), (399.712429696, -97.699016244))
        make_face()
        with BuildLine():
            ThreePointArc((396.317348797, -103.081713123), (398.505521323, -101.874804749), (399.712429696, -99.686632224))
            Line((399.712429696, -99.686632224), (399.224775375, -99.576209114))
            ThreePointArc((399.224775375, -99.576209114), (398.151967932, -101.521251358), (396.206925687, -102.594058802))
            Line((396.206925687, -102.594058801), (396.317348797, -103.081713122))
        make_face()
        with BuildLine():
            Line((391.422306239, -99.576209114), (390.934651918, -99.686632224))
            ThreePointArc((390.934651918, -99.686632224), (392.141560292, -101.874804749), (394.329732817, -103.081713123))
            Line((394.329732817, -103.081713122), (394.440155927, -102.594058801))
            ThreePointArc((394.440155927, -102.594058802), (392.495113682, -101.521251358), (391.422306239, -99.576209114))
        make_face()
        with BuildLine():
            ThreePointArc((298.661103452, -92.852792892), (296.472930927, -94.059701265), (295.266022553, -96.24787379))
            Line((295.266022553, -96.24787379), (295.753676874, -96.3582969))
            ThreePointArc((295.753676874, -96.3582969), (296.826484317, -94.413254656), (298.771526562, -93.340447213))
            Line((298.771526562, -93.340447212), (298.661103452, -92.852792891))
        make_face()
        with BuildLine():
            ThreePointArc((304.04380033, -96.24787379), (302.836891957, -94.059701265), (300.648719432, -92.852792892))
            Line((300.648719432, -92.852792891), (300.538296322, -93.340447212))
            ThreePointArc((300.538296322, -93.340447213), (302.483338566, -94.413254656), (303.55614601, -96.3582969))
            Line((303.55614601, -96.3582969), (304.043800331, -96.24787379))
        make_face()
        with BuildLine():
            Line((300.538296322, -101.142916348), (300.648719432, -101.630570669))
            ThreePointArc((300.648719432, -101.630570669), (302.836891957, -100.423662295), (304.04380033, -98.23548977))
            Line((304.043800331, -98.23548977), (303.55614601, -98.12506666))
            ThreePointArc((303.55614601, -98.12506666), (302.483338566, -100.070108905), (300.538296322, -101.142916348))
        make_face()
        with BuildLine():
            Line((295.753676874, -98.12506666), (295.266022553, -98.23548977))
            ThreePointArc((295.266022553, -98.23548977), (296.472930927, -100.423662295), (298.661103452, -101.630570669))
            Line((298.661103452, -101.630570669), (298.771526562, -101.142916348))
            ThreePointArc((298.771526562, -101.142916348), (296.826484317, -100.070108905), (295.753676874, -98.12506666))
        make_face()
    extrude(amount=BOSS_EXTRUDE10_DEPTH)


solid = part.part
